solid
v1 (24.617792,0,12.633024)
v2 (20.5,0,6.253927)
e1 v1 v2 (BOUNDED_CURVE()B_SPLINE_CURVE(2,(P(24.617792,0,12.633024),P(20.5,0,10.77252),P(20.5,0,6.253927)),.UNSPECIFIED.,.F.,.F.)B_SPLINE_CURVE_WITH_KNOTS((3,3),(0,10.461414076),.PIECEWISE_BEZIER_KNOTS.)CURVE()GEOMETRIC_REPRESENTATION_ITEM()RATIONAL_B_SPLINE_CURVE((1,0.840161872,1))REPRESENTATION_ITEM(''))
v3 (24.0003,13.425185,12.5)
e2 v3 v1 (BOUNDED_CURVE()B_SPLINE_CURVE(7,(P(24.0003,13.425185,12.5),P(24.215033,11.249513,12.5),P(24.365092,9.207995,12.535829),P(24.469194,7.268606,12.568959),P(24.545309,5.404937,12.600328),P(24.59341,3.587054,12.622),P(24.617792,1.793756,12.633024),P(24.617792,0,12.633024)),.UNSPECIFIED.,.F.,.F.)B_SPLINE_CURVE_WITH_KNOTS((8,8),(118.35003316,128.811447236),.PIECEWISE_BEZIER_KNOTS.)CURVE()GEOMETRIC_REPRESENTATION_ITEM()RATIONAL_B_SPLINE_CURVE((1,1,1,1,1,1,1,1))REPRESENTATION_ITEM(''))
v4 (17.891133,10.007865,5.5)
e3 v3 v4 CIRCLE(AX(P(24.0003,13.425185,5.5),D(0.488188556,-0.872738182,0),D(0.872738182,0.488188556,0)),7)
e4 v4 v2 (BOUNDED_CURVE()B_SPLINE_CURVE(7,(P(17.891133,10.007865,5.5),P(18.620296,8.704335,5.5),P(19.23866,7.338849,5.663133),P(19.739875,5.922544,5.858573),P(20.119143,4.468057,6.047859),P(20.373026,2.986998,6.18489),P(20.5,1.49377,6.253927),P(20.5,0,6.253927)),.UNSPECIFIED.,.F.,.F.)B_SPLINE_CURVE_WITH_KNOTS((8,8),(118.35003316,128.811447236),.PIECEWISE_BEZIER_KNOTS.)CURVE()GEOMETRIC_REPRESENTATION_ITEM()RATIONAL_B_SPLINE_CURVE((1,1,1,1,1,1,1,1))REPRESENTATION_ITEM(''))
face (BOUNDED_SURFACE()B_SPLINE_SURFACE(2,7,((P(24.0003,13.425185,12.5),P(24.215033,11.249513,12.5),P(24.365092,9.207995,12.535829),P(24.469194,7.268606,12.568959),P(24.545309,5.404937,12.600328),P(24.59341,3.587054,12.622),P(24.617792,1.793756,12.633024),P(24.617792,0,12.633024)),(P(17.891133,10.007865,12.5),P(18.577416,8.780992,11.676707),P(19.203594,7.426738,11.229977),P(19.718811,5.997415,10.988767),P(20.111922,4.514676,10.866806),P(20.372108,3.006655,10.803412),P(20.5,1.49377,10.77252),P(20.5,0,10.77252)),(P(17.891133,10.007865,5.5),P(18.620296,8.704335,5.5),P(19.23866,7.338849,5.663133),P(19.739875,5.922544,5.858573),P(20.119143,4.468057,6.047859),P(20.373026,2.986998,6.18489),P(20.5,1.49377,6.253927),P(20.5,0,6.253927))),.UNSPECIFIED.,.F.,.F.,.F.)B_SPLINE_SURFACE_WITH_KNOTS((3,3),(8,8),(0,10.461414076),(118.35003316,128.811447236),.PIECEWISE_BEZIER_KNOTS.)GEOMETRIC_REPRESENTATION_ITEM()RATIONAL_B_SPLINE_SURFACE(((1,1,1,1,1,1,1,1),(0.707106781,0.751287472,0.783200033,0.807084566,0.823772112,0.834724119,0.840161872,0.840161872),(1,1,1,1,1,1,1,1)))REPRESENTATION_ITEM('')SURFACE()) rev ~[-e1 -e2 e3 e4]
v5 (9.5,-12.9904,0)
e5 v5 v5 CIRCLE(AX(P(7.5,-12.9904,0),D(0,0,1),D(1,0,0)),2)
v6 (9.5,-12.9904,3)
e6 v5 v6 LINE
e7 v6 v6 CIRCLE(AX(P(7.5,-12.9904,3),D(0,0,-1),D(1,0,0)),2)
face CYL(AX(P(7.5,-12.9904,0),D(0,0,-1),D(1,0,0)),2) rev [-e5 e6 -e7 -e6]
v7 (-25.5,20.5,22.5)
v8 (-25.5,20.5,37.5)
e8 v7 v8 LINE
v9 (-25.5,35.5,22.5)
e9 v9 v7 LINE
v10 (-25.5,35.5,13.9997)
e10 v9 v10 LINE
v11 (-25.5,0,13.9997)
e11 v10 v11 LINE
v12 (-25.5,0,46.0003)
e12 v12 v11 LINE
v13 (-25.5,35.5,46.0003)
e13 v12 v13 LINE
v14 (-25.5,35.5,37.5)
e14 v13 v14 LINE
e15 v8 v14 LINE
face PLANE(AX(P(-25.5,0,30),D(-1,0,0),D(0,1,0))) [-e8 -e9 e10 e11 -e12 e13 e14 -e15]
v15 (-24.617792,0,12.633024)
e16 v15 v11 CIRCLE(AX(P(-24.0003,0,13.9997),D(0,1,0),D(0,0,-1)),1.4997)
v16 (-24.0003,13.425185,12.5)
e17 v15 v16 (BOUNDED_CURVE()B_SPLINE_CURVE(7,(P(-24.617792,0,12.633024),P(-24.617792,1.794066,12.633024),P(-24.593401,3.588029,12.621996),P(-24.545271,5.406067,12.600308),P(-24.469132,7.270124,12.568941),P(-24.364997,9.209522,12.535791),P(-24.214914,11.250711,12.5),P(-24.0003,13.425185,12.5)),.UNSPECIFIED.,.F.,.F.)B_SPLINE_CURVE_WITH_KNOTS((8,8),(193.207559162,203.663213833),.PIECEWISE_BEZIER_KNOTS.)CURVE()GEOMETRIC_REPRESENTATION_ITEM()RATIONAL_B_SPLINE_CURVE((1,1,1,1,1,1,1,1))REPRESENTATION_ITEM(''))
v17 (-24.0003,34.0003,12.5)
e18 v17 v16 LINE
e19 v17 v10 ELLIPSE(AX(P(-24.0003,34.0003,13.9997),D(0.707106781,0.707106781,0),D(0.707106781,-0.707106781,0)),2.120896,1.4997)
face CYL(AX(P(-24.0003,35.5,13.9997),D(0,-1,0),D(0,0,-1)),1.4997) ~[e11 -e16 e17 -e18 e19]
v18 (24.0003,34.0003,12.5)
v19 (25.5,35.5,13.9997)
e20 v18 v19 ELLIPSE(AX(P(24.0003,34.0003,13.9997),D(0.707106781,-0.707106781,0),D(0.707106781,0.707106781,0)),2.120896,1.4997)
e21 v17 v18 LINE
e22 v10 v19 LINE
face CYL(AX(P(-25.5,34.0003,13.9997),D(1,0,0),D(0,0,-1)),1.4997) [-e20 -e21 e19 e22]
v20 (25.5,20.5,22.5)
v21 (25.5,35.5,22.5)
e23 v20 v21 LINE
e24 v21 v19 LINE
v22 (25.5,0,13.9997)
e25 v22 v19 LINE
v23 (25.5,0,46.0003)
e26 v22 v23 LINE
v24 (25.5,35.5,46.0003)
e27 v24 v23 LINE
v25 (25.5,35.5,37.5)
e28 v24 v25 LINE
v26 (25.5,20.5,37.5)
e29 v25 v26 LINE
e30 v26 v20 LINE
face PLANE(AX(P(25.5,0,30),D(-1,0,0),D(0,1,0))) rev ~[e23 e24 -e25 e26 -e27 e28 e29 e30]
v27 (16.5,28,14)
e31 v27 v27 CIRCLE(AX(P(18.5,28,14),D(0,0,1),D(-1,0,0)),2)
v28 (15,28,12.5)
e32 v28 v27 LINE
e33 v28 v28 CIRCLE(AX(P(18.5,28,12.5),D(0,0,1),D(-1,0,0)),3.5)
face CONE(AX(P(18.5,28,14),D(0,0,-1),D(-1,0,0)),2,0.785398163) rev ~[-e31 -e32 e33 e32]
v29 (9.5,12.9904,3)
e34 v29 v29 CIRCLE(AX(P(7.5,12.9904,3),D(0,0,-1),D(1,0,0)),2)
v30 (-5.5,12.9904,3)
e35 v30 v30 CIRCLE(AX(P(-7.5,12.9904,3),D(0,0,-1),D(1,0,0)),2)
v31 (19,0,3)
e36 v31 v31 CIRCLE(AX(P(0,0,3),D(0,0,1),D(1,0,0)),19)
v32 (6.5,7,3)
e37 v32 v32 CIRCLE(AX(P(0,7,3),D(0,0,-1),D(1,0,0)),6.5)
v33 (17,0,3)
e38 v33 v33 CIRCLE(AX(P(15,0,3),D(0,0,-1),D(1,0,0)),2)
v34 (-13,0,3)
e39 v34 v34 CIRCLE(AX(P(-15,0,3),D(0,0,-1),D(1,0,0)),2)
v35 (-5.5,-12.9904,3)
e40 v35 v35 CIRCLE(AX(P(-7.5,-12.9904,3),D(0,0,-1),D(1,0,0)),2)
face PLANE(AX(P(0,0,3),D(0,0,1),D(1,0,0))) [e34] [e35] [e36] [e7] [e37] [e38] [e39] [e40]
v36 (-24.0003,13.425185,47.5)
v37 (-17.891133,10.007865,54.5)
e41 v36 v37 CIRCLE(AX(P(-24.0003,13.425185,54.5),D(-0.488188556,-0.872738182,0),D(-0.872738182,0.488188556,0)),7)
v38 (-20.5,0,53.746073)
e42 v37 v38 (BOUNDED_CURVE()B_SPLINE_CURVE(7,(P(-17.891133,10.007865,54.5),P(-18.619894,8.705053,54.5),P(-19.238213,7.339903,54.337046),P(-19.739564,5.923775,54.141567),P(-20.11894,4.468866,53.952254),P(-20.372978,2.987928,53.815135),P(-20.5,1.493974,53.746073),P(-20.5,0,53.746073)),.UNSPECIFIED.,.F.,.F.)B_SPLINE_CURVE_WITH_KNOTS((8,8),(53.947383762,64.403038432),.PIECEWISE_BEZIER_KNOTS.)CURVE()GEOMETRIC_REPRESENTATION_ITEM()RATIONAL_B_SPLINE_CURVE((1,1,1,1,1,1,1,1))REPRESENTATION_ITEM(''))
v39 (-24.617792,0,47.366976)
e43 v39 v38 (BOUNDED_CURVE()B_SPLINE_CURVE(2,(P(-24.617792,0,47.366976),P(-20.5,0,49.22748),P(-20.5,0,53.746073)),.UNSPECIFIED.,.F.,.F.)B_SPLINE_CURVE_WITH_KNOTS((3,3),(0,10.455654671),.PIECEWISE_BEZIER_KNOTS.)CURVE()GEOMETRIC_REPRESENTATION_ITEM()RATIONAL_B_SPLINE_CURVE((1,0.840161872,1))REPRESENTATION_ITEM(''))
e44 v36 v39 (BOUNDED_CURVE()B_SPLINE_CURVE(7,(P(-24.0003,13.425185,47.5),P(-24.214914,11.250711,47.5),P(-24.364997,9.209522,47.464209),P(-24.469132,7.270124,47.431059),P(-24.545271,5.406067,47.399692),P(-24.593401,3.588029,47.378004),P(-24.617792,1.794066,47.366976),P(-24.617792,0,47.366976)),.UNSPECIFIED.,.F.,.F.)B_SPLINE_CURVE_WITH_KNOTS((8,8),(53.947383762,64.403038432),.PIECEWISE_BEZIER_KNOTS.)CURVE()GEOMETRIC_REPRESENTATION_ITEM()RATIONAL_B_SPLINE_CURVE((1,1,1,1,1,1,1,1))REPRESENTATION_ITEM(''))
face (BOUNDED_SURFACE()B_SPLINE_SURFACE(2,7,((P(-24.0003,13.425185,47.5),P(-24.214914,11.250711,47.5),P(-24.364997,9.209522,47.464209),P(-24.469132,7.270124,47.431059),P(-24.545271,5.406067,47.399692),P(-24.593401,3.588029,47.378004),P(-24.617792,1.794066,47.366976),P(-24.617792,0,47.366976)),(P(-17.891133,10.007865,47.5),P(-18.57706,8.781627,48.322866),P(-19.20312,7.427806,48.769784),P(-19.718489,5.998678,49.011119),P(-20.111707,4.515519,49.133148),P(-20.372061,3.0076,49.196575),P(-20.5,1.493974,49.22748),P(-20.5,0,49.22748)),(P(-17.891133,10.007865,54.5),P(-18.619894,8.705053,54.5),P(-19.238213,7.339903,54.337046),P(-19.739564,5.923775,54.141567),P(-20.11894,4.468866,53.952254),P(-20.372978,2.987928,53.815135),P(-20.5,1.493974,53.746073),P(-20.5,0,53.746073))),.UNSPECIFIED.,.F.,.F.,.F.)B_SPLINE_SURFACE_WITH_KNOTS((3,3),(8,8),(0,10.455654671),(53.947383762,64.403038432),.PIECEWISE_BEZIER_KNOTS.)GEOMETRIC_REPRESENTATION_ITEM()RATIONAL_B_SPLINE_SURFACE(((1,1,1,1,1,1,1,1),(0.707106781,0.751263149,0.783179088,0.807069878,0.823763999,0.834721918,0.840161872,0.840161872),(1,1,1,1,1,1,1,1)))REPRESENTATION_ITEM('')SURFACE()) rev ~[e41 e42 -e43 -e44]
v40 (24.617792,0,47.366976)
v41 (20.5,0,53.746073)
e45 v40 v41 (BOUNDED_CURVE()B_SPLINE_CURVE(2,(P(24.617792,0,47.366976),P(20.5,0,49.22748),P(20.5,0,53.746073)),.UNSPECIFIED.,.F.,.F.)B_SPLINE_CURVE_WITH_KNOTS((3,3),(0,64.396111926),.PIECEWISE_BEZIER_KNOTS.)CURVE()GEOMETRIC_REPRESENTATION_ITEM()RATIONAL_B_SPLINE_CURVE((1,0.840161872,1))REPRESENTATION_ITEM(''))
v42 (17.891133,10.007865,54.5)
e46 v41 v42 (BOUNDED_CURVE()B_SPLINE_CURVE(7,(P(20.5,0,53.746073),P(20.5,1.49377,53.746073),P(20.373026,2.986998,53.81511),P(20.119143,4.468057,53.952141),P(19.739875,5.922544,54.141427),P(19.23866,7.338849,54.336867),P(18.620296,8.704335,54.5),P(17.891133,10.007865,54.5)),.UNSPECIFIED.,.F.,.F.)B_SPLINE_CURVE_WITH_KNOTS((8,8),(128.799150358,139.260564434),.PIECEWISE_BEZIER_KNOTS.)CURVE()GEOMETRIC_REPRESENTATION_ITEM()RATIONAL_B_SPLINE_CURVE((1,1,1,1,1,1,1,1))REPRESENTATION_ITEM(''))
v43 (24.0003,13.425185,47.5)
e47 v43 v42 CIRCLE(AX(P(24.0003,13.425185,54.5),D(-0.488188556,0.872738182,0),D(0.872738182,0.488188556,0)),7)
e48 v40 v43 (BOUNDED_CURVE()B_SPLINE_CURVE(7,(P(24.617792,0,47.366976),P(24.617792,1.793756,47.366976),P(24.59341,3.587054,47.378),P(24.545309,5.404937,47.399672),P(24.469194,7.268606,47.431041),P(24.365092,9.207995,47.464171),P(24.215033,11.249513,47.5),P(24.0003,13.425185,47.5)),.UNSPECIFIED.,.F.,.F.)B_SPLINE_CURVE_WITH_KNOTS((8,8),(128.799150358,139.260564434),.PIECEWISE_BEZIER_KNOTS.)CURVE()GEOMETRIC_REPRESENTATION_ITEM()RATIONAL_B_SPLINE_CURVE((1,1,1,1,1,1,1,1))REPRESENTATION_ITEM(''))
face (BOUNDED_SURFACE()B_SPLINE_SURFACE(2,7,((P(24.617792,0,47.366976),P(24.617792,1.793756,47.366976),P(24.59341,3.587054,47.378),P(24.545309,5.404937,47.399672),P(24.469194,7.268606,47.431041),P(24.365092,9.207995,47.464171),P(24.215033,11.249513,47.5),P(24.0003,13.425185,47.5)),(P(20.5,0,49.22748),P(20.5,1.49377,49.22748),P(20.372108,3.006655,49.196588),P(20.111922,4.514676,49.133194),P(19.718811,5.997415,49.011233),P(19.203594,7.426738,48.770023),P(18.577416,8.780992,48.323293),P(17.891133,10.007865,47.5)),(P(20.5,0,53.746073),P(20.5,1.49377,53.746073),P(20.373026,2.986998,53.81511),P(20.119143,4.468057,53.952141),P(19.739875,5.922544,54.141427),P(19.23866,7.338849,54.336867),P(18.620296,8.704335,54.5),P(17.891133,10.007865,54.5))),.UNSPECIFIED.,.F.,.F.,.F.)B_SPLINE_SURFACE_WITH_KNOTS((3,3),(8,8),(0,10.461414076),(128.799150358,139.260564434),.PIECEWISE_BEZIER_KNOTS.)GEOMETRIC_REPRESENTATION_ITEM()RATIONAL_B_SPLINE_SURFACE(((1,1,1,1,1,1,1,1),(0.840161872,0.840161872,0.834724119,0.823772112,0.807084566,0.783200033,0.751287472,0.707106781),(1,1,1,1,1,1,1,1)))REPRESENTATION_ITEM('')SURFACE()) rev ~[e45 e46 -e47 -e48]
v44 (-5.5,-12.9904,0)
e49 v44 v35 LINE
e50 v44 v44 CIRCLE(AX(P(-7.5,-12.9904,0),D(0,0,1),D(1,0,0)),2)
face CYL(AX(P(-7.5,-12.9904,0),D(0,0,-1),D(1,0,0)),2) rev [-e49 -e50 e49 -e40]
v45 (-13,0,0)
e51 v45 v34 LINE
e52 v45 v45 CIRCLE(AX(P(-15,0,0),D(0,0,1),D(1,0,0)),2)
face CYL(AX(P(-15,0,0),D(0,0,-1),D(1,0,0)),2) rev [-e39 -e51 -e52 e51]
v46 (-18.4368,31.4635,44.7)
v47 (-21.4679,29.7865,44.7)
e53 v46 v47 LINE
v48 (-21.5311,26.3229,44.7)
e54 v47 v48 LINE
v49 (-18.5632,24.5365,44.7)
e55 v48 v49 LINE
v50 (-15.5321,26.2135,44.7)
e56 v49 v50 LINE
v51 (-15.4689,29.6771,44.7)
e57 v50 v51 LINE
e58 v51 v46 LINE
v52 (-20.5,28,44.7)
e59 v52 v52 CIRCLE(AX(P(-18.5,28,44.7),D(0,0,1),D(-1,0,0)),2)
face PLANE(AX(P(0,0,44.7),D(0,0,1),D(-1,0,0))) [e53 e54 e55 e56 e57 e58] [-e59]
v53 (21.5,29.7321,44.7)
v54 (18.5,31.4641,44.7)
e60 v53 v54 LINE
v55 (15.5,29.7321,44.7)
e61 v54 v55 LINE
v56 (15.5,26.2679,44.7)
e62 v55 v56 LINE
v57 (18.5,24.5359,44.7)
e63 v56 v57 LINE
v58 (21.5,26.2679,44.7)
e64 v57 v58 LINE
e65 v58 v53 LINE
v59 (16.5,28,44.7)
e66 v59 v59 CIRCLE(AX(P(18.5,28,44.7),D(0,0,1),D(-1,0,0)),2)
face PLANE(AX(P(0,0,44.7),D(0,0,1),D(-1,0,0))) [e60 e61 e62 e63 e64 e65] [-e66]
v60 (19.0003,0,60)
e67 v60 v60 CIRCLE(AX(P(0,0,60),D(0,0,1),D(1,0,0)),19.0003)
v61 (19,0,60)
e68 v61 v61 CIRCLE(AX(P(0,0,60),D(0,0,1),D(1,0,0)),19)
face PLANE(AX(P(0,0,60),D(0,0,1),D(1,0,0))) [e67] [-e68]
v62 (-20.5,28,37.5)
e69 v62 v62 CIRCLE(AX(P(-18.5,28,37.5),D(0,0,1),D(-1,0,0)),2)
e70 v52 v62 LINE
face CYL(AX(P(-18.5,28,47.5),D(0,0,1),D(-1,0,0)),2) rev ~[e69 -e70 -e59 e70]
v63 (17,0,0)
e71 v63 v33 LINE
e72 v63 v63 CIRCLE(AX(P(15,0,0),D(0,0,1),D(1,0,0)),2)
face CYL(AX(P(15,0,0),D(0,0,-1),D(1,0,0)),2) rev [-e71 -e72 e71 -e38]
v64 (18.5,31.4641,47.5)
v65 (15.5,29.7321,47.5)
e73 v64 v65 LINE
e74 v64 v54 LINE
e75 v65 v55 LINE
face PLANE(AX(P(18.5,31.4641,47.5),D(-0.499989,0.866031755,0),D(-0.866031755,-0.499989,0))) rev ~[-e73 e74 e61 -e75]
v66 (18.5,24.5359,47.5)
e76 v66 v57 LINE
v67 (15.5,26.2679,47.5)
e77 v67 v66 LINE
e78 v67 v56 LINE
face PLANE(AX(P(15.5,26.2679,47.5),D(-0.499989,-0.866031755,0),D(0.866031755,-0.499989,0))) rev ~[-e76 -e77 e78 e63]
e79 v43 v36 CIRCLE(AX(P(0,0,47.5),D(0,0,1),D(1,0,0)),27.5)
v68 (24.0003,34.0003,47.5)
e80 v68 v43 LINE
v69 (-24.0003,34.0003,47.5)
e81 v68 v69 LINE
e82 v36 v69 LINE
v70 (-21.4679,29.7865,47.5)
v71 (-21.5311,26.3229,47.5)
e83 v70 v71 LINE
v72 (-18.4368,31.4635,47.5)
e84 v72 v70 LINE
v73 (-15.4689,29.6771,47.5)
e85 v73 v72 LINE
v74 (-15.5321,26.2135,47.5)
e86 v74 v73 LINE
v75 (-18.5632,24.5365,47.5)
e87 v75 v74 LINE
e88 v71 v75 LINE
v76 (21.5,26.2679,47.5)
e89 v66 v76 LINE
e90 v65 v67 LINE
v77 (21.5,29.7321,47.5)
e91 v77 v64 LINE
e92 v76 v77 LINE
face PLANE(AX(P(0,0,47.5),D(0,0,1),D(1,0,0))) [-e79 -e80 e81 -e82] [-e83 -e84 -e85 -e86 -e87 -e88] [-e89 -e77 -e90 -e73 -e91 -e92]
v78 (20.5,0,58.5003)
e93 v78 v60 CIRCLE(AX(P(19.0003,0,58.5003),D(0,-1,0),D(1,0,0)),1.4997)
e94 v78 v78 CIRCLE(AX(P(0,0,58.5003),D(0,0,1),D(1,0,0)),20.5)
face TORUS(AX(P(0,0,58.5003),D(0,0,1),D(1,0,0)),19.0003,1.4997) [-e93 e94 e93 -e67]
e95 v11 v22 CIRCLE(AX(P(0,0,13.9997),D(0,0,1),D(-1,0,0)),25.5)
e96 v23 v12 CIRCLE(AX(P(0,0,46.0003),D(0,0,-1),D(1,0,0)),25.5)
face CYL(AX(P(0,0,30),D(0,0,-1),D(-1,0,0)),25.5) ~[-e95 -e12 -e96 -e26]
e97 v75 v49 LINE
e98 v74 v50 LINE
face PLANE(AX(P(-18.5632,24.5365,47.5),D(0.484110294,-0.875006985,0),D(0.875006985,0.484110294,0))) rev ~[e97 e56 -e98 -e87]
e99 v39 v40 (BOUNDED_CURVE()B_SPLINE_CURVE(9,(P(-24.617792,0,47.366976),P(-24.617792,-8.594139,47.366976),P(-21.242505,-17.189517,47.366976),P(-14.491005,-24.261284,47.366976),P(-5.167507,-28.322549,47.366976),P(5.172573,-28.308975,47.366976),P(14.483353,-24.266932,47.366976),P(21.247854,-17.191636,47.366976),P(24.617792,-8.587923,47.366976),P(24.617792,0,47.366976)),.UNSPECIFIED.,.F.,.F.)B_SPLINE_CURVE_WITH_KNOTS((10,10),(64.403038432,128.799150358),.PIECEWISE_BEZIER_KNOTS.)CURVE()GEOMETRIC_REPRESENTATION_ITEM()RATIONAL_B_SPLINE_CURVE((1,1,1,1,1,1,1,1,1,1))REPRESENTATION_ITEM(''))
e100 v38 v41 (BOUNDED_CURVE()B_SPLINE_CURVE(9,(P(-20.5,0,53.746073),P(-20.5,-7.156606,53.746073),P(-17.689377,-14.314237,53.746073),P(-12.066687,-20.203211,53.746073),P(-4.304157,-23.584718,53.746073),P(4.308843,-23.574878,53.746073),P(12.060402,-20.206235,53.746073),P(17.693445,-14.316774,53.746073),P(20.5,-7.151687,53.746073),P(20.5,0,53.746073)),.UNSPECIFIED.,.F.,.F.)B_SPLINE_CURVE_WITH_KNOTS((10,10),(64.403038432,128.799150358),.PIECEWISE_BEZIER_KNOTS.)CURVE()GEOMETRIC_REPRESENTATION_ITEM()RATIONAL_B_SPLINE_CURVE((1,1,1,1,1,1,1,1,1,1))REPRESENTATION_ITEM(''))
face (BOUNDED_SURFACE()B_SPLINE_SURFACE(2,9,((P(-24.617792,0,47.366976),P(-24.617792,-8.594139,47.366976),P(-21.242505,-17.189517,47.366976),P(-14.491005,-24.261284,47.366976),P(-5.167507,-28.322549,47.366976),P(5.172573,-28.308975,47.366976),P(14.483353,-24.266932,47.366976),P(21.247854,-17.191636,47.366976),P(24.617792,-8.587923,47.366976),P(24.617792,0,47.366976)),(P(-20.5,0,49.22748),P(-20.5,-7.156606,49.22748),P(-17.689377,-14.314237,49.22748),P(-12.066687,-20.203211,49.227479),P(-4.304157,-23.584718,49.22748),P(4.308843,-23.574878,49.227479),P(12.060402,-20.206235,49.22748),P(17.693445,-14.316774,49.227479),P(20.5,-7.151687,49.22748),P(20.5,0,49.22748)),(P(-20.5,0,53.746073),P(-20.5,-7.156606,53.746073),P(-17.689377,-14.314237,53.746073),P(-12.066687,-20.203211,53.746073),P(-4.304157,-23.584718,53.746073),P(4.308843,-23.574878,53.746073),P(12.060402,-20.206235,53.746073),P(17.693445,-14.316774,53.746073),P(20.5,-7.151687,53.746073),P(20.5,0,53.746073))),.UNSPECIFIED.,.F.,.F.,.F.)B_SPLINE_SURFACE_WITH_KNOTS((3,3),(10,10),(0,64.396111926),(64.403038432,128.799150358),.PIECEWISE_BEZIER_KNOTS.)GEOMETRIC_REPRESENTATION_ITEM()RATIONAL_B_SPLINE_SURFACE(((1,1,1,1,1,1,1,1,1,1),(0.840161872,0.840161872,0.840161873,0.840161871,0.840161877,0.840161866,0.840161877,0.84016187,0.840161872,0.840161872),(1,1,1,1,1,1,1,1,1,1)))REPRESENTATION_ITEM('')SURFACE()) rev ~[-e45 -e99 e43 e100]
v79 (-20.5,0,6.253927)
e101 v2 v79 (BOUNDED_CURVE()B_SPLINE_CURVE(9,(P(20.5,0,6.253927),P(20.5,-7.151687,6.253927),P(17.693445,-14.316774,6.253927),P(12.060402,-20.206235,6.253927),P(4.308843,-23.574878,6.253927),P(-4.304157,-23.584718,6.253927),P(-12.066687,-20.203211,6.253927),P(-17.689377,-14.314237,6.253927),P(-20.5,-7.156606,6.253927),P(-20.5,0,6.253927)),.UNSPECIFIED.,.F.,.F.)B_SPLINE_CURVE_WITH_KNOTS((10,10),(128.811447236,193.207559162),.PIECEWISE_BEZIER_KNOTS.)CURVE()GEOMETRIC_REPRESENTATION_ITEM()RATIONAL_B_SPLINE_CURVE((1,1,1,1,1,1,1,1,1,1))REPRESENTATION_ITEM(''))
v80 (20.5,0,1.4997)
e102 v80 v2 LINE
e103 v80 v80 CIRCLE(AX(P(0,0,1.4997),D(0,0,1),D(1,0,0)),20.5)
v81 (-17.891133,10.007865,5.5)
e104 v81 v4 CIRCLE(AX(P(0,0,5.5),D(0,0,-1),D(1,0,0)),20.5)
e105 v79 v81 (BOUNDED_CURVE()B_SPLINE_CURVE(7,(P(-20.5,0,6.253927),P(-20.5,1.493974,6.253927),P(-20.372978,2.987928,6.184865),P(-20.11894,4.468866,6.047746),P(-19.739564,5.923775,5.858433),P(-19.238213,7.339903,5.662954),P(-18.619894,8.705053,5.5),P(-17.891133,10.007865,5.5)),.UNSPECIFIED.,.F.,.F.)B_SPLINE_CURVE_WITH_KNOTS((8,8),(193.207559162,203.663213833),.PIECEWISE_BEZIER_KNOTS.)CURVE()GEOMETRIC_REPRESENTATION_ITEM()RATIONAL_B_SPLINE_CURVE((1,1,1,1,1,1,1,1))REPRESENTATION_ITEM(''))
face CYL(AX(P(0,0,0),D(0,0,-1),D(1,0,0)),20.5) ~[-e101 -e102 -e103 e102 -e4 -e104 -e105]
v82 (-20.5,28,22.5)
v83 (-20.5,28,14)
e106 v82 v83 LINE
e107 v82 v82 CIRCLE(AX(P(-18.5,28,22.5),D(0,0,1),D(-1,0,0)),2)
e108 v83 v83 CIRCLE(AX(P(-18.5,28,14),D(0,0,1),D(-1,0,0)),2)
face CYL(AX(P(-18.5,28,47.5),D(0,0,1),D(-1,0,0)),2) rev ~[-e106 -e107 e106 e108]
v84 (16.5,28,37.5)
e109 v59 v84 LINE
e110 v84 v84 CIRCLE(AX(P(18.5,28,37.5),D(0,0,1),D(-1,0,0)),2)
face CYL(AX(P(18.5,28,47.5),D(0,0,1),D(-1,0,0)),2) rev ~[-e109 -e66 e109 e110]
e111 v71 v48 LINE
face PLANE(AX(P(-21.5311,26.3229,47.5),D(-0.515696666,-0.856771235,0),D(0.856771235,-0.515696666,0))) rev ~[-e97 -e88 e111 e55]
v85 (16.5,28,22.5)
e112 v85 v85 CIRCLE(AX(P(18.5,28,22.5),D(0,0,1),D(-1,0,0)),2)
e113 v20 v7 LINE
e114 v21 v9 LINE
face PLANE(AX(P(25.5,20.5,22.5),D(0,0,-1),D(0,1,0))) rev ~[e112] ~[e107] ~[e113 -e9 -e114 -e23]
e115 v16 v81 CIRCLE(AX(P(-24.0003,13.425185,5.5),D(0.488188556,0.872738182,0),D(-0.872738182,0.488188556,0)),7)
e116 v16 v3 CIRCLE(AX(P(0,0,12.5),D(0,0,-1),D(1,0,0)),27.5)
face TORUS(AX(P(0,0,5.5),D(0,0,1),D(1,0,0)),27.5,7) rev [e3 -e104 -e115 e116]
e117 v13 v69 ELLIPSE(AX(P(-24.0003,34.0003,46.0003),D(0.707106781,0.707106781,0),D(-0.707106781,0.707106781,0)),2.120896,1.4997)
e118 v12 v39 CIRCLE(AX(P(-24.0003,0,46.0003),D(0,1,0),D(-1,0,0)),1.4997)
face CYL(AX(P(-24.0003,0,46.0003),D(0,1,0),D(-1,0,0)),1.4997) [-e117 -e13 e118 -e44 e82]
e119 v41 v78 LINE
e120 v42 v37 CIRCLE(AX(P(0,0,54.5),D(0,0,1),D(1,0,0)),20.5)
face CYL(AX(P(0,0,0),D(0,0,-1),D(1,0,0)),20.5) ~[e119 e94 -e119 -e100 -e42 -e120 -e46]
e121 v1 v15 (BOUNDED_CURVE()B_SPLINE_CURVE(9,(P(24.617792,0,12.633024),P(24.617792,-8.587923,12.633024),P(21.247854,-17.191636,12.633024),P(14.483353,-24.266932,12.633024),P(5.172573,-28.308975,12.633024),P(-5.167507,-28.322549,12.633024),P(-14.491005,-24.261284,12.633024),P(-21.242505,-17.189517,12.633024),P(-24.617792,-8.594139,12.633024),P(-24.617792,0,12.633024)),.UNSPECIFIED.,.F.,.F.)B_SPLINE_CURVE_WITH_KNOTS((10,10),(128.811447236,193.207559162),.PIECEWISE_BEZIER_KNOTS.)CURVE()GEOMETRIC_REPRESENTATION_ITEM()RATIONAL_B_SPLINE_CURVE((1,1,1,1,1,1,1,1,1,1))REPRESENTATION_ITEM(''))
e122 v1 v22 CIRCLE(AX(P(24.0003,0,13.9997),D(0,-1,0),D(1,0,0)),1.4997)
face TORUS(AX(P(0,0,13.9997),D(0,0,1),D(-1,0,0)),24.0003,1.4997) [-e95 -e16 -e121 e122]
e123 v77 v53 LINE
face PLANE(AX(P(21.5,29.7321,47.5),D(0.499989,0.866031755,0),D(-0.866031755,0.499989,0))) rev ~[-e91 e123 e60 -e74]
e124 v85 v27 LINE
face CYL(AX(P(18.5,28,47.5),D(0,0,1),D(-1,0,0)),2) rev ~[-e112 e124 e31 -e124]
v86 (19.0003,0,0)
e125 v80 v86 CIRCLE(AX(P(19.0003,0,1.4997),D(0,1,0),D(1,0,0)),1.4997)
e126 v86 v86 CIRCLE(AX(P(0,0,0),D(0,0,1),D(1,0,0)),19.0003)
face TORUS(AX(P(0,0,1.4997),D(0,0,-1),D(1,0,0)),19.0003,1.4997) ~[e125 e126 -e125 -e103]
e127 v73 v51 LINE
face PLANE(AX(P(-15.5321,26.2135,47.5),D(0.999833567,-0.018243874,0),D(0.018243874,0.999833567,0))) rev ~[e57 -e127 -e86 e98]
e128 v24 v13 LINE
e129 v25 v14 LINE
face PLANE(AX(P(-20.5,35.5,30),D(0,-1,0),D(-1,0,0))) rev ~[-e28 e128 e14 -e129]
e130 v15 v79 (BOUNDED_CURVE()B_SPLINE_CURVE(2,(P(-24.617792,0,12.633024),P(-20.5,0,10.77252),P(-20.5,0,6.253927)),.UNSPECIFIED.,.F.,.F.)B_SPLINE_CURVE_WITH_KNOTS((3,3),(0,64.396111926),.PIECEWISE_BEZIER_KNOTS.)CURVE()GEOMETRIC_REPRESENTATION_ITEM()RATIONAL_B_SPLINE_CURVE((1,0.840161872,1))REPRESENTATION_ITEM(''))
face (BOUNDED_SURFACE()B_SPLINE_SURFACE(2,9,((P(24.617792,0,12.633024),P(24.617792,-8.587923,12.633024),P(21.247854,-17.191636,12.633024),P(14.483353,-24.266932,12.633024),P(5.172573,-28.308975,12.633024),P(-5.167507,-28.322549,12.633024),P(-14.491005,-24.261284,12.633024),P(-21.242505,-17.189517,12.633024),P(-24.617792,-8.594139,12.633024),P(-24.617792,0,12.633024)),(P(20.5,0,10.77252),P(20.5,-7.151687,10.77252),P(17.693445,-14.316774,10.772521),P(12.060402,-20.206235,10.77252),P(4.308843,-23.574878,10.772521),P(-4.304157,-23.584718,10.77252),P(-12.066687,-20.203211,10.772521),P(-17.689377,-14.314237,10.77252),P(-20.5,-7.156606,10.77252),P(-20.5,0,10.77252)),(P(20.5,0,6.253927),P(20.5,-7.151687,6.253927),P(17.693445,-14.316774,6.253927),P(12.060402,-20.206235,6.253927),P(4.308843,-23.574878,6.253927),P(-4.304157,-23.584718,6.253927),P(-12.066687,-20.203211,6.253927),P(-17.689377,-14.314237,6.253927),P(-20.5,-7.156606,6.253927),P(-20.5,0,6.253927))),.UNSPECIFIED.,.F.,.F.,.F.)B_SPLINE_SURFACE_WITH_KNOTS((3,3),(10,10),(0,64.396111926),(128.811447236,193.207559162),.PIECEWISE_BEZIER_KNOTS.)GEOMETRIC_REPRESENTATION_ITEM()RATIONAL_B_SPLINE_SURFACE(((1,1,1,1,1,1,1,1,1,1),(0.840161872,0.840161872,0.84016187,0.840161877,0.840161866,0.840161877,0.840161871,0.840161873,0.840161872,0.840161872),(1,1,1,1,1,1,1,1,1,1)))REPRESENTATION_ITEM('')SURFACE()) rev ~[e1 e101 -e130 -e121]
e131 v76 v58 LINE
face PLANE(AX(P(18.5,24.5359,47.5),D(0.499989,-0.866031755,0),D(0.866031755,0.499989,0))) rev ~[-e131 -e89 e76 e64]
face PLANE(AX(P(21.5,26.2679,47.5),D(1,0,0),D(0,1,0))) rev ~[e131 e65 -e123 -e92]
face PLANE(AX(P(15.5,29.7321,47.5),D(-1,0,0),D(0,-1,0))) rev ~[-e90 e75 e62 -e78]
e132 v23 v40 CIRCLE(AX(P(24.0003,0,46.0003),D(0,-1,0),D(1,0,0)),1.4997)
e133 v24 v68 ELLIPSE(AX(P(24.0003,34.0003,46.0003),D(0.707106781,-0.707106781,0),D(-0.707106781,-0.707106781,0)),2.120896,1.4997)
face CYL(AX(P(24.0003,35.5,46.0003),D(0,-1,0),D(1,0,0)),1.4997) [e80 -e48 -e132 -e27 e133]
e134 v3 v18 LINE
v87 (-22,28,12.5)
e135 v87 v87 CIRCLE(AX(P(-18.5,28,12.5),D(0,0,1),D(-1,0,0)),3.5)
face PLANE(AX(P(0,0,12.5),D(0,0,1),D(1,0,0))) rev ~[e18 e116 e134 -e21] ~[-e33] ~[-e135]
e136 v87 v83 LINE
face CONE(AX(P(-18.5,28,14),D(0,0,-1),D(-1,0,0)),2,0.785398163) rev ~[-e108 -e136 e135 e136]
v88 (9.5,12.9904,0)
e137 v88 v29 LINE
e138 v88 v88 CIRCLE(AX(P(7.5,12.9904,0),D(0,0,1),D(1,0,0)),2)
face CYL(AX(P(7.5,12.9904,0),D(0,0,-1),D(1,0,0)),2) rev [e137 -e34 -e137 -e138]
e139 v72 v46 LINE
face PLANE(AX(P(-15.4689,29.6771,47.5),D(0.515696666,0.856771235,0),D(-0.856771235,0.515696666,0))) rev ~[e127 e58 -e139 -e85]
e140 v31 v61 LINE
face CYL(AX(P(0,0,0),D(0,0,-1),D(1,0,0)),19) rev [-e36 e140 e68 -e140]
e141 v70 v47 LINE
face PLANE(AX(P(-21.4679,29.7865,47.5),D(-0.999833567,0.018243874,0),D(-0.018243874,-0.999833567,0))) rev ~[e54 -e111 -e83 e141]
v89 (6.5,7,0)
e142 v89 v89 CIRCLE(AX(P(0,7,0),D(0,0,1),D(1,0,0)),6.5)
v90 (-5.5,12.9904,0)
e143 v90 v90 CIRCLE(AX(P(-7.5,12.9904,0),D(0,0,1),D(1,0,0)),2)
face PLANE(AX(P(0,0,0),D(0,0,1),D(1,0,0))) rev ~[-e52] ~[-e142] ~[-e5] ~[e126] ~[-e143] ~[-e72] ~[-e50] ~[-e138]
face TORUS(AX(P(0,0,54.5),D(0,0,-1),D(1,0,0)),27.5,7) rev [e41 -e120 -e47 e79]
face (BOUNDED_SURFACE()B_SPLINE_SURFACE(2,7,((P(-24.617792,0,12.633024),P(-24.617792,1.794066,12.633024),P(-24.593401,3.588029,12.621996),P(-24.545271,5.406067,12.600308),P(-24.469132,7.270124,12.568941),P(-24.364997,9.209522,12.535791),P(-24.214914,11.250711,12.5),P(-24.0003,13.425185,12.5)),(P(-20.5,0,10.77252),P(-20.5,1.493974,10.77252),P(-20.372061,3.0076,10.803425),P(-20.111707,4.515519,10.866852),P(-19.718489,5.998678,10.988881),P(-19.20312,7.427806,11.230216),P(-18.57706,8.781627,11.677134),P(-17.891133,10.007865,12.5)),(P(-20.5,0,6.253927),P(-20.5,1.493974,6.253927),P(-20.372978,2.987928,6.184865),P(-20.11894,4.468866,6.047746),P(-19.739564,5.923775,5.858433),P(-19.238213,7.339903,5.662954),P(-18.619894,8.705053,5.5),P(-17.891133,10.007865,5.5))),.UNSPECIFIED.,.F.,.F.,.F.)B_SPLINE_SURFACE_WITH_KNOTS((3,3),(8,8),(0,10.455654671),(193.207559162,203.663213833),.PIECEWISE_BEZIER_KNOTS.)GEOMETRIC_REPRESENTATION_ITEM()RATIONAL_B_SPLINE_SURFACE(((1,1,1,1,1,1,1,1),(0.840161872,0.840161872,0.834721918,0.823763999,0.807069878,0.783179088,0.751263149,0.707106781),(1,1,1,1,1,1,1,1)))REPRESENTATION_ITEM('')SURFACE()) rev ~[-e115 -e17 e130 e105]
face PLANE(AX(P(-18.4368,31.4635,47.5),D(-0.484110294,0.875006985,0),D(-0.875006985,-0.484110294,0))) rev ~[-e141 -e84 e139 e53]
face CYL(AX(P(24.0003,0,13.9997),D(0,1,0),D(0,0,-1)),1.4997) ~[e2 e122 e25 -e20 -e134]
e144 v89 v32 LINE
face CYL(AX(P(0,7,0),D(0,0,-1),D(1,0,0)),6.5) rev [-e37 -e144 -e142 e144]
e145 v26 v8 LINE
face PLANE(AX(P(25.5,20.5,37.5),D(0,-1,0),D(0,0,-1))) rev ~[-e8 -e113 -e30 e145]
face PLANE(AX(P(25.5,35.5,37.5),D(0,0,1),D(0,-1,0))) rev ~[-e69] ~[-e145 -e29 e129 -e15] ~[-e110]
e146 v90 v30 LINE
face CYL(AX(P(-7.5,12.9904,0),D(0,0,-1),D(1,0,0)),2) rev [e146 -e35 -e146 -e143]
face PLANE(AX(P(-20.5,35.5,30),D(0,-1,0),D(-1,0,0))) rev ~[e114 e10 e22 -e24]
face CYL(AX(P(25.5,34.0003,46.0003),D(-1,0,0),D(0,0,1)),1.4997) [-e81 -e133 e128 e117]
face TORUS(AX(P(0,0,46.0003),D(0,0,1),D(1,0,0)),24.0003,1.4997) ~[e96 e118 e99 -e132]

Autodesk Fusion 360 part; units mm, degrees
sketch "Esboço1" plane through (0, 0, 0) normal (0, 0, 1) x (1, 0, 0)
  circle A0 centre (0, 0) radius 19
  circle A1 centre (0, 0) radius 20.5
  dimension "d1" = 38
  dimension "d2" = 41
extrude "Extrusão1" add sketch "Esboço1" along normal blind 60
extrude "Extrusão2" add sketch "Esboço1" along normal blind 3 contours A0
sketch "Esboço2" plane through (0, 0, 0) normal (0, 0, 1) x (1, 0, 0)
  circle A0 centre (15, 0) radius 2
  circle A1 centre (7.5, 12.9904) radius 2
  circle A2 centre (-7.5, 12.9904) radius 2
  circle A3 centre (-15, 0) radius 2
  circle A4 centre (-7.5, -12.9904) radius 2
  circle A5 centre (7.5, -12.9904) radius 2
  dimension "d7" = 15
  dimension "d8" = 4
  dimension "d10" = 360
extrude "Extrusão3" cut sketch "Esboço2" along normal blind 11
sketch "Esboço3" plane through (0, 0, 0) normal (0, 0, 1) x (1, 0, 0)
  circle A0 centre (0, 7) radius 6.5
  dimension "d13" = 7
  dimension "d14" = 13
extrude "Extrusão4" cut sketch "Esboço3" along normal blind 24
sketch "Esboço4" plane through (0, 0, 0) normal (0, 0, 1) x (1, 0, 0)
  line L0 (-20.5, 0) -> (-25.5, 0)
  line L1 (-25.5, 0) -> (-25.5, 35.5)
  circle A0 centre (0, 0) radius 20.5
  line L2 (-20.5, 35.5) -> (-25.5, 35.5)
  line L3 (20.5, 0) -> (25.5, 0)
  line L4 (25.5, 0) -> (25.5, 35.5)
  line L5 (25.5, 35.5) -> (20.5, 35.5)
  line L6 (20.5, 35.5) -> (-20.5, 35.5)
  arc A1 (-25.5, 0) -> (25.5, 0) centre (0, 0) ccw
  dimension "d17" = 5
  dimension "d19" = 5
extrude "Extrusão9" add sketch "Esboço4" along normal mid plane 35 from surface at 30 contours L0 A0 L3 A1 | L0 L1 A0 L2 L3 L4 L5 L6
sketch "Esboço5" plane through (25.5, 0, 0) normal (1, 0, 0) x (0, 1, 0)
  line L0 (35.5, 12.5) -> (35.5, 47.5)
  line L1 (35.5, 47.5) -> (0, 47.5)
  line L2 (0, 47.5) -> (0, 12.5)
  line L3 (0, 12.5) -> (35.5, 12.5)
  line L4 (35.5, 37.5) -> (20.5, 37.5)
  line L5 (20.5, 37.5) -> (20.5, 22.5)
  line L6 (20.5, 22.5) -> (35.5, 22.5)
  line L7 (35.5, 37.5) -> (35.5, 22.5)
  dimension "d35" = 15
extrude "Extrusão10" cut sketch "Esboço5" against normal blind 59 contours L0 L4 L5 L6 L7
sketch "Esboço6" plane through (0, 0, 47.5) normal (0, 0, 1) x (-1, 0, 0)
  circle A0 centre (0, 0) radius 20.5
  arc A1 (25.5, 0) -> (-25.5, 0) centre (0, 0) ccw
  line L0 (-25.5, 0) -> (-25.5, -35.5)
  line L1 (-25.5, -35.5) -> (25.5, -35.5)
  line L2 (25.5, -35.5) -> (25.5, 0)
  circle A2 centre (-18.5, -28) radius 2
  circle A3 centre (18.5, -28) radius 2
  dimension "d42" = 4
  dimension "d43" = 4
extrude "Extrusão11" cut sketch "Esboço6" against normal blind 43 contours A2 | A3
sketch "Esboço7" plane through (0, 0, 47.5) normal (0, 0, 1) x (-1, 0, 0)
  circle A0 centre (-18.5, -28) radius 2
  circle A1 centre (18.5, -28) radius 2
  circle A2 centre (0, 0) radius 20.5
  arc A3 (25.5, 0) -> (-25.5, 0) centre (0, 0) ccw
  line L0 (-25.5, 0) -> (-25.5, -35.5)
  line L1 (-25.5, -35.5) -> (25.5, -35.5)
  line L2 (25.5, -35.5) -> (25.5, 0)
  line L3 (-15.5, -26.2679) -> (-18.5, -24.5359)
  line L4 (-18.5, -24.5359) -> (-21.5, -26.2679)
  line L5 (-21.5, -26.2679) -> (-21.5, -29.7321)
  line L6 (-21.5, -29.7321) -> (-18.5, -31.4641)
  line L7 (-18.5, -31.4641) -> (-15.5, -29.7321)
  line L8 (-15.5, -29.7321) -> (-15.5, -26.2679)
  line L9 (21.4679, -29.7865) -> (21.5311, -26.3229)
  line L10 (21.5311, -26.3229) -> (18.5632, -24.5365)
  line L11 (18.5632, -24.5365) -> (15.5321, -26.2135)
  line L12 (15.5321, -26.2135) -> (15.4689, -29.6771)
  line L13 (15.4689, -29.6771) -> (18.4368, -31.4635)
  line L14 (18.4368, -31.4635) -> (21.4679, -29.7865)
  point P0 (-18.5, -28)
  point P1 (18.5, -28)
  dimension "d46" = 3
  dimension "d47" = 3
extrude "Extrusão12" cut sketch "Esboço7" against normal blind 2.8 contours L3 L4 L5 L6 L7 L8 | L9 L10 L11 L12 L13 L14
chamfer "Chanfro1" distance 1.5 distance2 1.5 2 edges at (20.3647, 28.7232, 12.5) (-16.6353, 28.7232, 12.5) measured on face at (0.5107, 26.232, 12.5) measured on face at (0.5107, 26.232, 12.5)
fillet "Arredondamento1" radius 1.5 10 edges at (-25.5, 17.75, 47.5) (0, -25.5, 47.5) (25.5, 17.75, 47.5) (25.5, 17.75, 12.5) (0, -25.5, 12.5) (-25.5, 17.75, 12.5) (0, 35.5, 47.5) (0, 35.5, 12.5) (-19.1127, -7.4131, 60) (-19.1127, -7.4131, 0)
fillet "Arredondamento2" radius 7 2 edges at (-19.1127, -7.4131, 47.5) (-19.1127, 7.4131, 12.5)
equation "d17 = d19"
equation "d46 = ( ( 5 / 2 ) * 1 mm ) + 0.5 * 1 mm"
equation "d47 = d46"
